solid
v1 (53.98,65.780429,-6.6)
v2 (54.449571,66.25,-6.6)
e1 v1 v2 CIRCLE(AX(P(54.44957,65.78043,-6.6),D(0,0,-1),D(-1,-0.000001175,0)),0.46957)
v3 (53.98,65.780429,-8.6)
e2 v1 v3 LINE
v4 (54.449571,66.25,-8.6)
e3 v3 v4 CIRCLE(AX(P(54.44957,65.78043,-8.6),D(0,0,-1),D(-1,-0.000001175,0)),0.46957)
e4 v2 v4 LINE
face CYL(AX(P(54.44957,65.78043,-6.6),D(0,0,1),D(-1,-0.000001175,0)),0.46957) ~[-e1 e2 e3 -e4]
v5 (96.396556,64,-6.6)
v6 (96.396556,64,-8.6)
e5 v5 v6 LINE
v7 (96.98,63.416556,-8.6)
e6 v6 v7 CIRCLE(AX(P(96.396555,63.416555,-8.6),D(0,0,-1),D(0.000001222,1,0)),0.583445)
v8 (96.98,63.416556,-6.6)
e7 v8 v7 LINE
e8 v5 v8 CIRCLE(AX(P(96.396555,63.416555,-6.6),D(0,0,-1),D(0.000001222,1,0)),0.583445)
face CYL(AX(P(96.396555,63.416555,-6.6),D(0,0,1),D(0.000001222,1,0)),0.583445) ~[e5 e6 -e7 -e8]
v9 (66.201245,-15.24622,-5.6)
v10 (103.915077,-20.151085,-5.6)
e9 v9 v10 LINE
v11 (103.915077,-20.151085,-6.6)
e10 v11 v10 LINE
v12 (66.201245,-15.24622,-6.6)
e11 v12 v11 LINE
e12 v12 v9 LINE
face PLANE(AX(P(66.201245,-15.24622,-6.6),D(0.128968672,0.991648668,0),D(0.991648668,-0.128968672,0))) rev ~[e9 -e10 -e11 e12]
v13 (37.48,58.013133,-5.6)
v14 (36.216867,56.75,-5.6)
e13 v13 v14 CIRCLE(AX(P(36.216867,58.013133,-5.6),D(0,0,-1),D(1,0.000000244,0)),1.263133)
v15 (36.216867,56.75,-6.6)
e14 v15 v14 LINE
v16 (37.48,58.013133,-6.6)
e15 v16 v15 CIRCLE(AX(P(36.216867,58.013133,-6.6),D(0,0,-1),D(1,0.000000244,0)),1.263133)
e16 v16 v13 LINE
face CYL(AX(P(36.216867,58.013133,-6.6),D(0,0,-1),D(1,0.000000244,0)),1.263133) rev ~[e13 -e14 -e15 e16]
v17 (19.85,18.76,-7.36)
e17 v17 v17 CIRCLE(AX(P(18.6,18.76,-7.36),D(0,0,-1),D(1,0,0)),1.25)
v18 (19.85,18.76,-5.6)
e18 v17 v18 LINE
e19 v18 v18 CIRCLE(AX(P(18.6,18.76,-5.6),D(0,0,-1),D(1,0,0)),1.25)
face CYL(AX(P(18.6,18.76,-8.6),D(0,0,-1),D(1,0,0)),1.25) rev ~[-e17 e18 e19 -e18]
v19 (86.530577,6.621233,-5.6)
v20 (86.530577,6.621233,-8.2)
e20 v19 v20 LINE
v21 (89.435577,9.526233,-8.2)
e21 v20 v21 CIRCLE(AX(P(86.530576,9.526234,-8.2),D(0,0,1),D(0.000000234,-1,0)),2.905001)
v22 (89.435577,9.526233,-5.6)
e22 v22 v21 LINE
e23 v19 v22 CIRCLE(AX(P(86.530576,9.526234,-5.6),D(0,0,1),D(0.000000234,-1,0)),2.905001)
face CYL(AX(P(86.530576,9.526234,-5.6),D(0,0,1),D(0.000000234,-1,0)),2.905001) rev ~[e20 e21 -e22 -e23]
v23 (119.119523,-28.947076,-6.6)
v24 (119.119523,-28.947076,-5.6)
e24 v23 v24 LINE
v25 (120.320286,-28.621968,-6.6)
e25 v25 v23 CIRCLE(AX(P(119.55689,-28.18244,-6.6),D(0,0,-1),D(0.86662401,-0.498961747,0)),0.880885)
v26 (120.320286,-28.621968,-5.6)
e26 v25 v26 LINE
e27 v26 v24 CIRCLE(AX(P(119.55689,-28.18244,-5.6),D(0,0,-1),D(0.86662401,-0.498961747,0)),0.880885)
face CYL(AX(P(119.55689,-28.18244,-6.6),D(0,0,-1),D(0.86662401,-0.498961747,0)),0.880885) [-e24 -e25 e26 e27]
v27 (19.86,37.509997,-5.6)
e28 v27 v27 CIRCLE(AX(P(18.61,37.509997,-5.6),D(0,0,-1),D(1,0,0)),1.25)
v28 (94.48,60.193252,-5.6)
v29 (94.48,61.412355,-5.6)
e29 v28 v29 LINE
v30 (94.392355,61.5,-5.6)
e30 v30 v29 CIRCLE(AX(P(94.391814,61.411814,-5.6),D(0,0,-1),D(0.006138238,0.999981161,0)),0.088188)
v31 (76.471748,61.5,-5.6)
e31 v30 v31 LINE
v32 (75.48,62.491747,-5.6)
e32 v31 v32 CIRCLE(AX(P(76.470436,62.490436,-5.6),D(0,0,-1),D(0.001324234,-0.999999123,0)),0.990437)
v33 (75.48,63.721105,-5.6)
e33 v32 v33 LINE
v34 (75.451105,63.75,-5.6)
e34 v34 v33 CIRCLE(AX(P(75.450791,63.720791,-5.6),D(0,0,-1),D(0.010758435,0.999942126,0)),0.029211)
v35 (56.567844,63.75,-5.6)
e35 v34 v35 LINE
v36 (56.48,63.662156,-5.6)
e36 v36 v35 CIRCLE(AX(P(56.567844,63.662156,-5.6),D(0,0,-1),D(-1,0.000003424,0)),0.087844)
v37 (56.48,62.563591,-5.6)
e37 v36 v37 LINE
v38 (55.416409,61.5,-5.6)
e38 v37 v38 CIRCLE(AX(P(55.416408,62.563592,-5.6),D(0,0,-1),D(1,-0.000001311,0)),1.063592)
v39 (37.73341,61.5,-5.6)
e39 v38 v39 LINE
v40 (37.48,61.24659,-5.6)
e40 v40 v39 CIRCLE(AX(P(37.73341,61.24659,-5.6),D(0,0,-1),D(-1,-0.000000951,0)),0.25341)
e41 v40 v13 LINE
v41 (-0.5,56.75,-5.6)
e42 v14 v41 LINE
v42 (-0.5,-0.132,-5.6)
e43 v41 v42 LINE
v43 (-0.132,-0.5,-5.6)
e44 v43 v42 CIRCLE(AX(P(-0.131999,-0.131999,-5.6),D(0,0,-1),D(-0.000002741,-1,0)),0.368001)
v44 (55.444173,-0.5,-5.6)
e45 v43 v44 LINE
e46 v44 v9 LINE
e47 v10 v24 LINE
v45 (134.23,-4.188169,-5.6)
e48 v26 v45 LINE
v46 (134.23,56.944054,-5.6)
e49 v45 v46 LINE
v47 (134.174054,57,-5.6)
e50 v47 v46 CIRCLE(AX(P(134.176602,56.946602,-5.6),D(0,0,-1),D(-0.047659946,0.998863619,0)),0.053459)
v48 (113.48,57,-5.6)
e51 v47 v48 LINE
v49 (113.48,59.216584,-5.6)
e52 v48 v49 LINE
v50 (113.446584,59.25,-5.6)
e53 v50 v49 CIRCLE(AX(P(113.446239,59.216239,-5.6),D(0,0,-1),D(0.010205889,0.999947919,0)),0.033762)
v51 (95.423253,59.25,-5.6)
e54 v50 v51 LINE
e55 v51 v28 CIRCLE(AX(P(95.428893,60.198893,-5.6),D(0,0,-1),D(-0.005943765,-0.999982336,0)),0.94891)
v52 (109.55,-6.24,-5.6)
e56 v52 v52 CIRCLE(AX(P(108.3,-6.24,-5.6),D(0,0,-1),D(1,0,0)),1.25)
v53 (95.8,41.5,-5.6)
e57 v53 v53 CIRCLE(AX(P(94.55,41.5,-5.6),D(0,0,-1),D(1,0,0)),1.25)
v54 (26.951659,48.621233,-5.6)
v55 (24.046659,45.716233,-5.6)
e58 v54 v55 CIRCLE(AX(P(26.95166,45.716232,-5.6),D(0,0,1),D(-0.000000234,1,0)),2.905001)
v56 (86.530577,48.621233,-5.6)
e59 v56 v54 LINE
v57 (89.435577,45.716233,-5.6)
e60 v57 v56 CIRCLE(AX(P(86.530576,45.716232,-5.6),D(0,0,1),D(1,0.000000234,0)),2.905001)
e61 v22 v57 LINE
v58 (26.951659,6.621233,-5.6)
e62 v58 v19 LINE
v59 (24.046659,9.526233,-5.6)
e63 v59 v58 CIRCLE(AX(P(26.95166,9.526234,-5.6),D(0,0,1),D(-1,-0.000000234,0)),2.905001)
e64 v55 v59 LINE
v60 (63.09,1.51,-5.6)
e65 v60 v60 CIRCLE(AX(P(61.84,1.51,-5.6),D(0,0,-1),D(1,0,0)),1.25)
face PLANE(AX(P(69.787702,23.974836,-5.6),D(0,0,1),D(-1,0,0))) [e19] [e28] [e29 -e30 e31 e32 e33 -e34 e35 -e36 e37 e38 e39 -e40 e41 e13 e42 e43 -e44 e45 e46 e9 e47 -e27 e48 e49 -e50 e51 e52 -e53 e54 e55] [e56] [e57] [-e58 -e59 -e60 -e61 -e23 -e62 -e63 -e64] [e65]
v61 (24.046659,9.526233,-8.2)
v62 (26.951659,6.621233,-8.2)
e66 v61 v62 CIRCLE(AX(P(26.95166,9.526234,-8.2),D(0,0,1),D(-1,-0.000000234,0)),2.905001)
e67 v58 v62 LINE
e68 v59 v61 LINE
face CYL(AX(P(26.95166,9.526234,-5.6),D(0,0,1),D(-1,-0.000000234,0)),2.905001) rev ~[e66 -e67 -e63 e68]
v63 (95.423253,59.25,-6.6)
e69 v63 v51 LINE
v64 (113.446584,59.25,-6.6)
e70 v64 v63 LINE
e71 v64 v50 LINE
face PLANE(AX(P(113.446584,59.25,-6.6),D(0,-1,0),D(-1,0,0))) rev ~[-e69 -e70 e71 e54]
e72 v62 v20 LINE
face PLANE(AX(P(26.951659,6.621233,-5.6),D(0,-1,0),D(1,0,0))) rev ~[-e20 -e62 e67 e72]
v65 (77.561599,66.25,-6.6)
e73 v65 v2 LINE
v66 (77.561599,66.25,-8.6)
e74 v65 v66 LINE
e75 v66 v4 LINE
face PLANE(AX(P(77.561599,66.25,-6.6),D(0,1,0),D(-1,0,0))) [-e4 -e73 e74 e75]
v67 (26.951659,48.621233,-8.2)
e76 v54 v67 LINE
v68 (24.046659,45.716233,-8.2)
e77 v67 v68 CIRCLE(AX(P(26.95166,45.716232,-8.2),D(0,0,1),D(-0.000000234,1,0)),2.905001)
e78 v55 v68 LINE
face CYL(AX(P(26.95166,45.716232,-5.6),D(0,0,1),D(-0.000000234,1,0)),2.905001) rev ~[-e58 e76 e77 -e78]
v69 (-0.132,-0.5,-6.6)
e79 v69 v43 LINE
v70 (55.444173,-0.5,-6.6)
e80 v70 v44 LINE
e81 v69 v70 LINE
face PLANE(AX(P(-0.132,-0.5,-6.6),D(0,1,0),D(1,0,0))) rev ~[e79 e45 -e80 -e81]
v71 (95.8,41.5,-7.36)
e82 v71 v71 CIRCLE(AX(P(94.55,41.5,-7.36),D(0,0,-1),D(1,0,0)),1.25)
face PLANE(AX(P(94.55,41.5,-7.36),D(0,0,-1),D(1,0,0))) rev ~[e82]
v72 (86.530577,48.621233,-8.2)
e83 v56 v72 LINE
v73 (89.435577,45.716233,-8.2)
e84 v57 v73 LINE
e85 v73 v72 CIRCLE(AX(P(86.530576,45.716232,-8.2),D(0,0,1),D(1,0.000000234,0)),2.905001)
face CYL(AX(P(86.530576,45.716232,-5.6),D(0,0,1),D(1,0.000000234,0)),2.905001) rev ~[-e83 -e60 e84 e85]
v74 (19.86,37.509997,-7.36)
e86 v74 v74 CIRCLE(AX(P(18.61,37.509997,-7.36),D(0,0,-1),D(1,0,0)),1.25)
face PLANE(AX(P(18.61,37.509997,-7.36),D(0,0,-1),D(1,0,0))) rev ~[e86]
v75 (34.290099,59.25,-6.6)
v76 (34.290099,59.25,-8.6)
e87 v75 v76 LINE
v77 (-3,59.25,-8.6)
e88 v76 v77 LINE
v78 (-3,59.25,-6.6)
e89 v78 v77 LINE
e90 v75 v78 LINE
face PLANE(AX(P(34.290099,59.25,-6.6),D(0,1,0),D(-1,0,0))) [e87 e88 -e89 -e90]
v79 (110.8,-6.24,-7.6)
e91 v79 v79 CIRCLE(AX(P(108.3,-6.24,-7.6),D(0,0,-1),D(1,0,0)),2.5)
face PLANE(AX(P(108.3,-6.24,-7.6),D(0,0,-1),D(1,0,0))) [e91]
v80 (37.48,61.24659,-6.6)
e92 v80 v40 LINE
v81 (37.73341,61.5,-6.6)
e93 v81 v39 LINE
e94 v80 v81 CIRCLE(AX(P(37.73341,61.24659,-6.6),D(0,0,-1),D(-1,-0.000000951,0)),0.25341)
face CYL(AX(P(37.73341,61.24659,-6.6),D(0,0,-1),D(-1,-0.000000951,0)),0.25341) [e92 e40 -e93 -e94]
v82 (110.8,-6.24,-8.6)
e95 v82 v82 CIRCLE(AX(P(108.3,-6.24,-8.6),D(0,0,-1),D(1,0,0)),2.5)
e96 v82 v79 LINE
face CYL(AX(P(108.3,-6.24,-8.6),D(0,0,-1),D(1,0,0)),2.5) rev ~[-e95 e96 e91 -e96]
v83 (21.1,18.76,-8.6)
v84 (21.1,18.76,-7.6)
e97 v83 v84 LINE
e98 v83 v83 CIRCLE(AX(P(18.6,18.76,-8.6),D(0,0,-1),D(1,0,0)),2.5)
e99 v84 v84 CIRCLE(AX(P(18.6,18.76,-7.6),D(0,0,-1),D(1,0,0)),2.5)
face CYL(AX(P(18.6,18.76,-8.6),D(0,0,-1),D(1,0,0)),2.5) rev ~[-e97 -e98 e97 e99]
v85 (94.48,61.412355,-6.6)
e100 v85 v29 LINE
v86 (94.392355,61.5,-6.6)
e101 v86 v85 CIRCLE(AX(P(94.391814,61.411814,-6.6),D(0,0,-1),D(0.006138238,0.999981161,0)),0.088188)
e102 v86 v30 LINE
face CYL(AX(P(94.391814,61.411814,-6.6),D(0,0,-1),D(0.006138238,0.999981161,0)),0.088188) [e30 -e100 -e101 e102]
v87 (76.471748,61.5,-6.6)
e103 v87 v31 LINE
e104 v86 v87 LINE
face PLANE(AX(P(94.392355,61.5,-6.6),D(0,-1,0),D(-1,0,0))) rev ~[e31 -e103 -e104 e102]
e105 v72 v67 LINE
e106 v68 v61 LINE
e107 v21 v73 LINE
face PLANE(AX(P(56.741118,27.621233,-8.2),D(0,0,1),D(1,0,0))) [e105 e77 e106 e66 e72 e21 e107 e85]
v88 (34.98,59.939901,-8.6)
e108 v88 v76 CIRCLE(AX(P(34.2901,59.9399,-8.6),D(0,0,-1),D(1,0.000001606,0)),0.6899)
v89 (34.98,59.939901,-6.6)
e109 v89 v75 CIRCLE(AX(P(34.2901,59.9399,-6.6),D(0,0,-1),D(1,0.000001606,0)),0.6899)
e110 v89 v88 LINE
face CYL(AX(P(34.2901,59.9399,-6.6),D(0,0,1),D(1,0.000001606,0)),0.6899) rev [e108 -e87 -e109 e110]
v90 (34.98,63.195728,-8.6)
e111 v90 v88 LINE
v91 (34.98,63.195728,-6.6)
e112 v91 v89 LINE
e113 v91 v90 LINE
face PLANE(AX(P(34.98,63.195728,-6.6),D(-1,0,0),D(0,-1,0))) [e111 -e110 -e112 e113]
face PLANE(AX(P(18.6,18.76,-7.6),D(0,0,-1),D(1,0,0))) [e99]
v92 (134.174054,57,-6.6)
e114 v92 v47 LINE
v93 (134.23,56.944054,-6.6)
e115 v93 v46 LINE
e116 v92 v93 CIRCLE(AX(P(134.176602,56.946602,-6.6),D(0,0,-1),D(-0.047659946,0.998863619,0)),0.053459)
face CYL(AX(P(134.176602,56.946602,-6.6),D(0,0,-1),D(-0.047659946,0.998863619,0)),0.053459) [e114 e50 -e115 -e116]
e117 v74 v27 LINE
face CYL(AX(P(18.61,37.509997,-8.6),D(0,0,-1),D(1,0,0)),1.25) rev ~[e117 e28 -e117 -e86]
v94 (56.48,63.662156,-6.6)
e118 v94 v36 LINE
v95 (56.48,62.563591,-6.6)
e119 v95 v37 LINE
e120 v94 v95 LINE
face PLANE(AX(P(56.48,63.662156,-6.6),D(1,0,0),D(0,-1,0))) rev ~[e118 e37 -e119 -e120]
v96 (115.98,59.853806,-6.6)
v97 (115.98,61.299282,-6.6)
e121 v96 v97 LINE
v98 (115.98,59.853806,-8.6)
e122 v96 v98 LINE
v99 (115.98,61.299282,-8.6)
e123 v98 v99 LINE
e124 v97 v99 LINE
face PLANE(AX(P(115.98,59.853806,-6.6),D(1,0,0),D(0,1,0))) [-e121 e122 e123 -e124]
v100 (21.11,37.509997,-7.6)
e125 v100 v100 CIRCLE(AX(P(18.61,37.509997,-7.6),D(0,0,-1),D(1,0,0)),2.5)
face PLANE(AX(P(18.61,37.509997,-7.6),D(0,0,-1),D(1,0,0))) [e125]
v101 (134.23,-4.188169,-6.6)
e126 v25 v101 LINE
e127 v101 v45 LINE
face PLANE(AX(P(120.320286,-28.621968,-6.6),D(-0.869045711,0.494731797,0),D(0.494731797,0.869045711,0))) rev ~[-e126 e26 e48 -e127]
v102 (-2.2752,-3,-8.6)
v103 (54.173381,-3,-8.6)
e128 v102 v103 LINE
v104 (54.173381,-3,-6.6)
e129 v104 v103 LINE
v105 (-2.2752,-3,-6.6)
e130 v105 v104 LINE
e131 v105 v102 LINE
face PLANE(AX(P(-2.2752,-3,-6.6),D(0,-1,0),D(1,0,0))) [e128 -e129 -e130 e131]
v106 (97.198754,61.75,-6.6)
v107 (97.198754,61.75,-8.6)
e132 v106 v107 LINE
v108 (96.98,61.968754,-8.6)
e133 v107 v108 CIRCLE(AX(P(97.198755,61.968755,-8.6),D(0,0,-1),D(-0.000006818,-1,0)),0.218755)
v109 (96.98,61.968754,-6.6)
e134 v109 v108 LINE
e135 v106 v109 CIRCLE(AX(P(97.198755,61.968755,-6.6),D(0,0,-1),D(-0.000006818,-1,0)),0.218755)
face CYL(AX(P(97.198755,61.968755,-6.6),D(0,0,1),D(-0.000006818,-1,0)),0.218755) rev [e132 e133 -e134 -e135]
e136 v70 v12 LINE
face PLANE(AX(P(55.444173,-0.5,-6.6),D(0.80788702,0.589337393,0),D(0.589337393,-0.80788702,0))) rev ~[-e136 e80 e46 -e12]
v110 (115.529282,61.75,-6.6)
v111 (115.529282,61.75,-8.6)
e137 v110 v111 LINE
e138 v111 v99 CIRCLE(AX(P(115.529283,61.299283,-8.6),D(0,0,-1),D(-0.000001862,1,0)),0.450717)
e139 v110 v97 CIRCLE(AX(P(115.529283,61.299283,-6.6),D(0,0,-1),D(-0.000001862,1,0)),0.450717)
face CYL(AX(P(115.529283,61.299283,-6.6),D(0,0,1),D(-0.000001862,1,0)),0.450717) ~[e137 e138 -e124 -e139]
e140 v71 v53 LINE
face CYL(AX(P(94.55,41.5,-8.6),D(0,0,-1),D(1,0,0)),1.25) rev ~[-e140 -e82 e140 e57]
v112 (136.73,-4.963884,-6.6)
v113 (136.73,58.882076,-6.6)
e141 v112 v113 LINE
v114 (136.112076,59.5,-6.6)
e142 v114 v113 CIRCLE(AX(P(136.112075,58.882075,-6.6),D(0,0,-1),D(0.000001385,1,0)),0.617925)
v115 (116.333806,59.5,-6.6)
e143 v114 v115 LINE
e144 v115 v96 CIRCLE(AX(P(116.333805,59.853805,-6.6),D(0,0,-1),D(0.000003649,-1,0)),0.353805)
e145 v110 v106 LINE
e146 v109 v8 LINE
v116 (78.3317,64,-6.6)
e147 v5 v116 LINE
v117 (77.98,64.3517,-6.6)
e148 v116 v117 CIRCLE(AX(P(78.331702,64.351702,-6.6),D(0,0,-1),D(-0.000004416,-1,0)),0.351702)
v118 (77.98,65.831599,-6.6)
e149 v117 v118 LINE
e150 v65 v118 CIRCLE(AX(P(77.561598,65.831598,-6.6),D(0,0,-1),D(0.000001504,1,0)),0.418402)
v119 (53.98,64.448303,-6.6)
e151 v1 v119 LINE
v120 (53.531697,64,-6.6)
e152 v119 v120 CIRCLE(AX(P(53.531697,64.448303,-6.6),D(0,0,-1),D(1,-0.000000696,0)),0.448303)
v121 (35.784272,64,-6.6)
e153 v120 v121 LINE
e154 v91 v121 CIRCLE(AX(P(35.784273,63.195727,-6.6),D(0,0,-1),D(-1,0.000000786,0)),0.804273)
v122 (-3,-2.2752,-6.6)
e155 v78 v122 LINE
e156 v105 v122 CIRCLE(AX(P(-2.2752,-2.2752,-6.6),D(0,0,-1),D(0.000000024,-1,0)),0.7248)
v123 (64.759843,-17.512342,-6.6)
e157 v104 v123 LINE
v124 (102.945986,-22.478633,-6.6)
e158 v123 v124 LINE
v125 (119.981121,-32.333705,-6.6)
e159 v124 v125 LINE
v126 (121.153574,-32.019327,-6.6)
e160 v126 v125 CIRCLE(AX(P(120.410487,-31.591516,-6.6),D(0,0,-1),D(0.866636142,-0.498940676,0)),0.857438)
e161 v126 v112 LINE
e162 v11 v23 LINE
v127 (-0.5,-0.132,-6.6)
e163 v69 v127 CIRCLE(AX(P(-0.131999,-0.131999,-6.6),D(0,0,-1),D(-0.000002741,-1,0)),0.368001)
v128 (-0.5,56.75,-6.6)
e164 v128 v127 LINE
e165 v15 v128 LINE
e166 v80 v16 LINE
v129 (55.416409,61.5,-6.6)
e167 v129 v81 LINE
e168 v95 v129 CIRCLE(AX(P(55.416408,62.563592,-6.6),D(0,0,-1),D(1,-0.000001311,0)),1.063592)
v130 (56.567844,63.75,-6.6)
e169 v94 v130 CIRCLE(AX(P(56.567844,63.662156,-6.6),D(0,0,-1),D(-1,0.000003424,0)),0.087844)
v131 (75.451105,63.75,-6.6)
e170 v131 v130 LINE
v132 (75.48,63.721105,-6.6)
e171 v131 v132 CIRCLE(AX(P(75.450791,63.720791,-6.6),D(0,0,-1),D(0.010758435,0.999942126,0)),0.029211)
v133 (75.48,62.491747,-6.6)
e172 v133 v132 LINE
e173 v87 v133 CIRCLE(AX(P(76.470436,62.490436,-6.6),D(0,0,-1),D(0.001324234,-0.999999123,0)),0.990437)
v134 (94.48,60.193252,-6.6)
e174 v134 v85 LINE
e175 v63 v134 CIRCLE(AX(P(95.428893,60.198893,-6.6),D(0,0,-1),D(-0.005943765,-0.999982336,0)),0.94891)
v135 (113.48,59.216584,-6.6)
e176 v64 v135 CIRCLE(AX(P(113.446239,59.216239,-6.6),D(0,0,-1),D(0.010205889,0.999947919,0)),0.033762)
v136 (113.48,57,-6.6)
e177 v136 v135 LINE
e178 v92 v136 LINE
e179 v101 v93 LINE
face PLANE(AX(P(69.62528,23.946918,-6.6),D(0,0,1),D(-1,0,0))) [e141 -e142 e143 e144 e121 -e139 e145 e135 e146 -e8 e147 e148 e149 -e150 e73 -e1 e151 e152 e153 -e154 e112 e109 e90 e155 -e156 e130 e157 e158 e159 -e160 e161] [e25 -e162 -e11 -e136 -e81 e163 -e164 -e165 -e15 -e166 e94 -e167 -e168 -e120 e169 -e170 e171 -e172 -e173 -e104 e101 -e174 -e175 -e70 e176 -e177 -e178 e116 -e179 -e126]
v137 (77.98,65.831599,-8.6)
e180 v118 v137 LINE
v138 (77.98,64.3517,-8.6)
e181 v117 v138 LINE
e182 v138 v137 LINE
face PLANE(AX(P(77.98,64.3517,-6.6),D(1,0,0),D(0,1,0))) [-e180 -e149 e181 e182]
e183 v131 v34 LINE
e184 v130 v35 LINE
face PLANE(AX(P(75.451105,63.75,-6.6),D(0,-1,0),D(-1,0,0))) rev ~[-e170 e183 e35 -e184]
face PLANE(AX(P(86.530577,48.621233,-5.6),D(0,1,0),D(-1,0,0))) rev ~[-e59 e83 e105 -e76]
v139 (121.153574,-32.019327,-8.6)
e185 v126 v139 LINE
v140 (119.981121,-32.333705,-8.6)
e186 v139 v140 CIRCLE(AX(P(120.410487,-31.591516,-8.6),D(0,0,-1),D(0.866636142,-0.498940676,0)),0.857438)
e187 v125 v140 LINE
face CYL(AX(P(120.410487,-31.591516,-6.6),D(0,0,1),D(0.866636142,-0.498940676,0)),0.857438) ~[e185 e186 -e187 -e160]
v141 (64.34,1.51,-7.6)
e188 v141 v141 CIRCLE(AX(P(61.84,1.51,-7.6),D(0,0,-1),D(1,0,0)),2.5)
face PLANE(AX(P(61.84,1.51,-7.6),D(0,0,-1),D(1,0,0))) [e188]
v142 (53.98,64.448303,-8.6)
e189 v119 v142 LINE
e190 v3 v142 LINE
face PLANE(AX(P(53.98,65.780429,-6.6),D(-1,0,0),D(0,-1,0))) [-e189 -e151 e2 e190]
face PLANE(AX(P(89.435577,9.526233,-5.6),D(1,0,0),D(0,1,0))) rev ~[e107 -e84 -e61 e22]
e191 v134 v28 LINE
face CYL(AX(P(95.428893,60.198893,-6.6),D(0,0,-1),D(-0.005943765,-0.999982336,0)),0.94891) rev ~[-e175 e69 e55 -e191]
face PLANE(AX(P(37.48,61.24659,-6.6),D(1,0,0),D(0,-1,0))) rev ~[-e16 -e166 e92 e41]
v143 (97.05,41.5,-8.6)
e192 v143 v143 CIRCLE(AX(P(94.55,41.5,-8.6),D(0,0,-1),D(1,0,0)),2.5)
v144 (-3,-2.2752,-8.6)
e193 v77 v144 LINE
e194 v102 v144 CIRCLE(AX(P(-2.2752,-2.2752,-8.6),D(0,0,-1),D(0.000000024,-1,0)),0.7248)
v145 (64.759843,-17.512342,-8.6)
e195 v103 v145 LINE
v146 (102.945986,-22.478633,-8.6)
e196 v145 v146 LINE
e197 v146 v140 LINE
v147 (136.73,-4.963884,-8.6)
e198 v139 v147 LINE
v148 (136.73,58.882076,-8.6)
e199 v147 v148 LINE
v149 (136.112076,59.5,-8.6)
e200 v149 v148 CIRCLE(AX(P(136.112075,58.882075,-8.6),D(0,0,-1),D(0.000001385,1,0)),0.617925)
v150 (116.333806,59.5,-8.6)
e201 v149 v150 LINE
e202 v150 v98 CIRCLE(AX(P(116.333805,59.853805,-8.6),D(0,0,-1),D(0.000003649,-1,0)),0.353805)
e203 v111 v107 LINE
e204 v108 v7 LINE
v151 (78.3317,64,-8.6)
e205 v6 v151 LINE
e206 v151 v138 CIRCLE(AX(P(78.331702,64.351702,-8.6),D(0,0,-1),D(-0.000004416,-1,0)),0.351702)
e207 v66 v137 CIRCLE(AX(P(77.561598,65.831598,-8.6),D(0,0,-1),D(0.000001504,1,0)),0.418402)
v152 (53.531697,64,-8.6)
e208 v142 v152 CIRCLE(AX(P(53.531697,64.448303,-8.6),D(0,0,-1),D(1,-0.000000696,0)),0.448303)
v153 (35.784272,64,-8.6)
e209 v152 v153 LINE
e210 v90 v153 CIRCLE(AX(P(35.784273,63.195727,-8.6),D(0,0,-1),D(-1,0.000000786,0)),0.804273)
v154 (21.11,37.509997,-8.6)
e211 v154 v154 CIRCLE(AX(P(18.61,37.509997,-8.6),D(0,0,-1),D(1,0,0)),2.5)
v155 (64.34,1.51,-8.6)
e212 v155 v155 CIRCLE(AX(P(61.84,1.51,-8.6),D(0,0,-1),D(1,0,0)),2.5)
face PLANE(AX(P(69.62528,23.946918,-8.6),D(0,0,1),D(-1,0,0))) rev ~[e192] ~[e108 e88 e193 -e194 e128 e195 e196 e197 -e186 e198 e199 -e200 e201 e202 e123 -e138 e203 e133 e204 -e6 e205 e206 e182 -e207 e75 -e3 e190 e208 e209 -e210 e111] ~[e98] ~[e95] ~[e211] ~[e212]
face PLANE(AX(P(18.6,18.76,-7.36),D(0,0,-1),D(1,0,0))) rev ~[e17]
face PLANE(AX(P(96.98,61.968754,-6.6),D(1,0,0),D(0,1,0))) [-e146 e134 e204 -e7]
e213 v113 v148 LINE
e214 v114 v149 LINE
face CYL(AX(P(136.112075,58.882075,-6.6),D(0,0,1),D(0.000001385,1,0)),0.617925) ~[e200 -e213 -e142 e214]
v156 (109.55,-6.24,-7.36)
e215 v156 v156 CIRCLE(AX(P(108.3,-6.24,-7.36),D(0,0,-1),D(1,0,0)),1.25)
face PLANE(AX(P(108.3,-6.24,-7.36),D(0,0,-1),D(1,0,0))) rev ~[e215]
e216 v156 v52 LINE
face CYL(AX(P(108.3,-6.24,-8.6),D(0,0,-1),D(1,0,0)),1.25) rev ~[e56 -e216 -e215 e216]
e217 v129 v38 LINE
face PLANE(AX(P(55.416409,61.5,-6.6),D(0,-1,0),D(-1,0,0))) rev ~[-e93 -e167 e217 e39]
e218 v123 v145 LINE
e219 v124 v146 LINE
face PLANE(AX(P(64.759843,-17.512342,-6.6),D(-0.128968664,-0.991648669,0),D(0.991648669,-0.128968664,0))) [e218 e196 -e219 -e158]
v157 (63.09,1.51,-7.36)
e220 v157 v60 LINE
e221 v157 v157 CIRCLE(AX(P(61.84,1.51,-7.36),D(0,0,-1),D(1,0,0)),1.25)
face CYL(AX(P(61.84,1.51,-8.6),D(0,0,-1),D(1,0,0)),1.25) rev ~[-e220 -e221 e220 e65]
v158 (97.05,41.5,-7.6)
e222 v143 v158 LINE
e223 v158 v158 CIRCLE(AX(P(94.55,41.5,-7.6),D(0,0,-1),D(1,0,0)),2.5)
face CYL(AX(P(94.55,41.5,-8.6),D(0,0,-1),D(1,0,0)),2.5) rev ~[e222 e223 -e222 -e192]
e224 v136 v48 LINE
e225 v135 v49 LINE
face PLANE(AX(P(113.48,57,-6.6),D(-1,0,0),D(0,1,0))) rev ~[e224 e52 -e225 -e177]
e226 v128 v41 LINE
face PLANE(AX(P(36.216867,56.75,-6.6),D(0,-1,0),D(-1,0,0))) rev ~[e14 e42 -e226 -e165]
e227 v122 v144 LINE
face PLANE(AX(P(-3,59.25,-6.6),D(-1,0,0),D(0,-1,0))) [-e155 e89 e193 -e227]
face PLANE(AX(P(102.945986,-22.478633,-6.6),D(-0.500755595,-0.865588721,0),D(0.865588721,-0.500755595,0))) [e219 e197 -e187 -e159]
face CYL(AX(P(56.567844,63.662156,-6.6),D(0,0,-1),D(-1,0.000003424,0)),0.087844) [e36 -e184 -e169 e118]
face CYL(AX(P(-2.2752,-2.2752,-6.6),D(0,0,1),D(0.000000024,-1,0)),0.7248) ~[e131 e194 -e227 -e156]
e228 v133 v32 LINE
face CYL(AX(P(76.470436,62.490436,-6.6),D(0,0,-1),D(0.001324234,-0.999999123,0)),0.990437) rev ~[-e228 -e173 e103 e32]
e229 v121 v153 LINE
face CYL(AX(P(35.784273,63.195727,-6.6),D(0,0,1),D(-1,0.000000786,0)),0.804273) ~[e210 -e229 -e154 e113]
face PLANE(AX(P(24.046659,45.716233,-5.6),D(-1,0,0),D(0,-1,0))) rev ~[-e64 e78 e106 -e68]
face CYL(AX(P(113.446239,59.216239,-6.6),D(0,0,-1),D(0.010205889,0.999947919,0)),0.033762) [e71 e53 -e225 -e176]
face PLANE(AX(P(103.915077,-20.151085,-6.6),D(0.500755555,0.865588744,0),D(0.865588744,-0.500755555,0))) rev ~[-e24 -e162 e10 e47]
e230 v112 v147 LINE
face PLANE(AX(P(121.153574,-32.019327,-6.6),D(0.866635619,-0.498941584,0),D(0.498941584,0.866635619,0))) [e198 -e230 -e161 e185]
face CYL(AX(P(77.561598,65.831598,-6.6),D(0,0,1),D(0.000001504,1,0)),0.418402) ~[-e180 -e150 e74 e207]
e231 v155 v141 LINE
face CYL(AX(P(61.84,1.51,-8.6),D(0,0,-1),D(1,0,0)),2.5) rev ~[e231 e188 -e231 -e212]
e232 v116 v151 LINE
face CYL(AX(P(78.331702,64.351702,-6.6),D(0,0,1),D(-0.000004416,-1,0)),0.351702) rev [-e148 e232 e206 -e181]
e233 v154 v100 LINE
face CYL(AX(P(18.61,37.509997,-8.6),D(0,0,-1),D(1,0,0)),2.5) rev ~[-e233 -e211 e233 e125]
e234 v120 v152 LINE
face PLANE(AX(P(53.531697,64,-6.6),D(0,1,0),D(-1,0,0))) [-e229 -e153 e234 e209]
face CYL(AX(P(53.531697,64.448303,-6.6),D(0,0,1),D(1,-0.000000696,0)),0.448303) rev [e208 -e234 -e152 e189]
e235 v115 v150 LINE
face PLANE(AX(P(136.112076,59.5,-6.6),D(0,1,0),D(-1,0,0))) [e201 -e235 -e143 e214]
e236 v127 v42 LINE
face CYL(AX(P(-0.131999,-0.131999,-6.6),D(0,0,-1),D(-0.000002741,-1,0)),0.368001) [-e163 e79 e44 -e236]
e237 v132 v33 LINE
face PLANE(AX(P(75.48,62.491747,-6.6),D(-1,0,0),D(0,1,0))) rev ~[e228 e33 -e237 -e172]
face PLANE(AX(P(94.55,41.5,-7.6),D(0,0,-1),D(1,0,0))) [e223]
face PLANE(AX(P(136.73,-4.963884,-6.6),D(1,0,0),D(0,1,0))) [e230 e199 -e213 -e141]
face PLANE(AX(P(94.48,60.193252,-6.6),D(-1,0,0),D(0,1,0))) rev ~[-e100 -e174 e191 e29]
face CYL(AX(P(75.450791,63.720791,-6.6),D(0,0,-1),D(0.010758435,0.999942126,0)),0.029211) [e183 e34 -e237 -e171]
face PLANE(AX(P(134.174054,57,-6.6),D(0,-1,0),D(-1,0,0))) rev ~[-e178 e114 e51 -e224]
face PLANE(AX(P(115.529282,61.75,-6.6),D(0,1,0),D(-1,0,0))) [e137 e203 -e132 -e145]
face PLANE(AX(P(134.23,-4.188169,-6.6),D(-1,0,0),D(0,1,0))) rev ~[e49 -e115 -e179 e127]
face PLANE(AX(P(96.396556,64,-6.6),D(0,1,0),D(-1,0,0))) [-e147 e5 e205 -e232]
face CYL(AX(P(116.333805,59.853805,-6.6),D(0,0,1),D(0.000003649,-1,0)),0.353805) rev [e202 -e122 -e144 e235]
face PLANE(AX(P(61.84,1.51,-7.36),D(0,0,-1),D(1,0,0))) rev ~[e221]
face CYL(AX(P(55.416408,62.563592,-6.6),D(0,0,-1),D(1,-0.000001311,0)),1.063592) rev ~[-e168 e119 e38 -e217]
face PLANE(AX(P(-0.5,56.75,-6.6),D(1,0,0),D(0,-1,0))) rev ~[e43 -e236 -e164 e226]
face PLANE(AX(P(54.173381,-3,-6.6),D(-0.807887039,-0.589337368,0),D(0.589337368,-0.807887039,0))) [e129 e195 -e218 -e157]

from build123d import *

# Parameters (mm, degrees)
PAD022_DEPTH    = 2
PAD023_DEPTH    = 1
SKETCH097_R     = 1.25
POCKET015_DEPTH = 3.001
POCKET017_DEPTH = 2.6
SKETCH106_R     = 2.5
POCKET020_DEPTH = 1
SKETCH107_R     = 1.264414
SKETCH107_R_2   = 1.25
PAD027_DEPTH    = 0.24


with BuildPart() as part:
    # Sketch095 (on Face1 of ShapeBinder) → Pad022 (new body)
    with BuildSketch(Plane(origin=(0, 0, -16), x_dir=(1, 0, 0), z_dir=(0, 0, -1))):
        with BuildLine():
            Line((-2.2752, 3), (54.173381, 3))
            Line((54.173381, 3), (64.759843, 17.512342))
            Line((64.759843, 17.512342), (102.945986, 22.478633))
            Line((102.945986, 22.478633), (119.981121, 32.333705))
            ThreePointArc((121.153574, 32.019327), (120.632553, 32.419699), (119.981121, 32.333705))
            Line((121.153574, 32.019327), (136.73, 4.963884))
            Line((136.73, 4.963884), (136.73, -58.882076))
            ThreePointArc((136.112076, -59.5), (136.549014, -59.319014), (136.73, -58.882076))
            Line((136.112076, -59.5), (116.333806, -59.5))
            ThreePointArc((116.333806, -59.5), (116.083627, -59.603627), (115.98, -59.853806))
            Line((115.98, -59.853806), (115.98, -61.299282))
            ThreePointArc((115.529282, -61.75), (115.847988, -61.617988), (115.98, -61.299282))
            Line((115.529282, -61.75), (97.198754, -61.75))
            ThreePointArc((97.198754, -61.75), (97.044072, -61.814072), (96.98, -61.968754))
            Line((96.98, -61.968754), (96.98, -63.416556))
            ThreePointArc((96.396556, -64), (96.809113, -63.829113), (96.98, -63.416556))
            Line((96.396556, -64), (78.3317, -64))
            ThreePointArc((78.3317, -64), (78.083011, -64.103011), (77.98, -64.3517))
            Line((77.98, -64.3517), (77.98, -65.831599))
            ThreePointArc((77.561599, -66.25), (77.857453, -66.127453), (77.98, -65.831599))
            Line((77.561599, -66.25), (54.449571, -66.25))
            ThreePointArc((53.98, -65.780429), (54.117534, -66.112466), (54.449571, -66.25))
            Line((53.98, -65.780429), (53.98, -64.448303))
            ThreePointArc((53.98, -64.448303), (53.848695, -64.131305), (53.531697, -64))
            Line((53.531697, -64), (35.784272, -64))
            ThreePointArc((34.98, -63.195728), (35.215566, -63.764434), (35.784272, -64))
            Line((34.98, -63.195728), (34.98, -59.939901))
            ThreePointArc((34.98, -59.939901), (34.777933, -59.452067), (34.290099, -59.25))
            Line((34.290099, -59.25), (-3, -59.25))
            Line((-3, -59.25), (-3, 2.2752))
            ThreePointArc((-2.2752, 3), (-2.787711, 2.787711), (-3, 2.2752))
        make_face()
    extrude(amount=PAD022_DEPTH)

    # Sketch096 (on Face1 of ShapeBinder) → Pad023 (join)
    with BuildSketch(Plane(origin=(0, 0, -16), x_dir=(1, 0, 0), z_dir=(0, 0, -1))):
        with BuildLine():
            Line((-0.132, 0.5), (55.444173, 0.5))
            Line((55.444173, 0.5), (66.201245, 15.24622))
            Line((66.201245, 15.24622), (103.915077, 20.151085))
            Line((103.915077, 20.151085), (119.119523, 28.947076))
            ThreePointArc((120.320286, 28.621968), (119.787102, 29.032711), (119.119523, 28.947076))
            Line((120.320286, 28.621968), (134.23, 4.188169))
            Line((134.23, 4.188169), (134.23, -56.944054))
            ThreePointArc((134.174054, -57), (134.214403, -56.984403), (134.23, -56.944054))
            Line((134.174054, -57), (113.48, -57))
            Line((113.48, -57), (113.48, -59.216584))
            ThreePointArc((113.446584, -59.25), (113.470113, -59.240113), (113.48, -59.216584))
            Line((113.446584, -59.25), (95.423253, -59.25))
            ThreePointArc((95.423253, -59.25), (94.757913, -59.527912), (94.48, -60.193252))
            Line((94.48, -60.193252), (94.48, -61.412355))
            ThreePointArc((94.392355, -61.5), (94.454172, -61.474172), (94.48, -61.412355))
            Line((94.392355, -61.5), (76.471748, -61.5))
            ThreePointArc((76.471748, -61.5), (75.770092, -61.790091), (75.48, -62.491747))
            Line((75.48, -62.491747), (75.48, -63.721105))
            ThreePointArc((75.451105, -63.75), (75.471446, -63.741446), (75.48, -63.721105))
            Line((75.451105, -63.75), (56.567844, -63.75))
            ThreePointArc((56.48, -63.662156), (56.505729, -63.724271), (56.567844, -63.75))
            Line((56.48, -63.662156), (56.48, -62.563591))
            ThreePointArc((56.48, -62.563591), (56.168481, -61.811519), (55.416409, -61.5))
            Line((55.416409, -61.5), (37.73341, -61.5))
            ThreePointArc((37.48, -61.24659), (37.554222, -61.425778), (37.73341, -61.5))
            Line((37.48, -61.24659), (37.48, -58.013133))
            ThreePointArc((37.48, -58.013133), (37.110037, -57.119963), (36.216867, -56.75))
            Line((36.216867, -56.75), (-0.5, -56.75))
            Line((-0.5, -56.75), (-0.5, 0.132))
            ThreePointArc((-0.132, 0.5), (-0.392215, 0.392215), (-0.5, 0.132))
        make_face()
    extrude(amount=-PAD023_DEPTH)

    # Sketch097 → Pocket015 (cut, through all)
    with BuildSketch(Plane(origin=(0, 0, -18), x_dir=(1, 0, 0), z_dir=(0, 0, -1))):
        with Locations((18.61, -37.509997)):
            Circle(SKETCH097_R)
        with Locations((18.6, -18.76)):
            Circle(SKETCH097_R)
        with Locations((61.84, -1.51)):
            Circle(SKETCH097_R)
        with Locations((108.3, 6.24)):
            Circle(SKETCH097_R)
        with Locations((94.55, -41.5)):
            Circle(SKETCH097_R)
    extrude(amount=-POCKET015_DEPTH, mode=Mode.SUBTRACT)

    # Sketch100 → Pocket017 (cut)
    with BuildSketch(Plane.XY.offset(-15)):
        with BuildLine():
            Line((24.046659, 45.716233), (24.046659, 9.526233))
            ThreePointArc((24.046659, 9.526233), (24.897514, 7.472088), (26.951659, 6.621233))
            Line((26.951659, 6.621233), (86.530577, 6.621233))
            ThreePointArc((86.530577, 6.621233), (88.584722, 7.472088), (89.435577, 9.526233))
            Line((89.435577, 9.526233), (89.435577, 45.716233))
            ThreePointArc((89.435577, 45.716233), (88.584722, 47.770378), (86.530577, 48.621233))
            Line((86.530577, 48.621233), (26.951659, 48.621233))
            ThreePointArc((26.951659, 48.621233), (24.897514, 47.770378), (24.046659, 45.716233))
        make_face()
    extrude(amount=-POCKET017_DEPTH, mode=Mode.SUBTRACT)

    # Sketch106 (on Face5 of Pocket017) → Pocket020 (cut)
    with BuildSketch(Plane(origin=(0, 0, -18), x_dir=(1, 0, 0), z_dir=(0, 0, -1))):
        with Locations((61.84, -1.51)):
            Circle(SKETCH106_R)
        with Locations((108.3, 6.24)):
            Circle(SKETCH106_R)
        with Locations((94.55, -41.5)):
            Circle(SKETCH106_R)
        with Locations((18.61, -37.509997)):
            Circle(SKETCH106_R)
        with Locations((18.6, -18.76)):
            Circle(SKETCH106_R)
    extrude(amount=-POCKET020_DEPTH, mode=Mode.SUBTRACT)

    # Sketch107 (on Face70 of Pocket020) → Pad027 (join)
    with BuildSketch(Plane(origin=(0, 0, -17), x_dir=(1, 0, 0), z_dir=(0, 0, -1))):
        with Locations((61.84, -1.51)):
            Circle(SKETCH107_R)
        with Locations((18.6, -18.76)):
            Circle(SKETCH107_R_2)
        with Locations((108.3, 6.24)):
            Circle(SKETCH107_R_2)
        with Locations((94.55, -41.5)):
            Circle(SKETCH107_R_2)
        with Locations((18.61, -37.509997)):
            Circle(SKETCH107_R_2)
    extrude(amount=-PAD027_DEPTH)


with BuildPart() as part_1:
    # Body placement: moved
    add(part.part.moved(Location((0, 0, 9.4))))


solid = part_1.part
